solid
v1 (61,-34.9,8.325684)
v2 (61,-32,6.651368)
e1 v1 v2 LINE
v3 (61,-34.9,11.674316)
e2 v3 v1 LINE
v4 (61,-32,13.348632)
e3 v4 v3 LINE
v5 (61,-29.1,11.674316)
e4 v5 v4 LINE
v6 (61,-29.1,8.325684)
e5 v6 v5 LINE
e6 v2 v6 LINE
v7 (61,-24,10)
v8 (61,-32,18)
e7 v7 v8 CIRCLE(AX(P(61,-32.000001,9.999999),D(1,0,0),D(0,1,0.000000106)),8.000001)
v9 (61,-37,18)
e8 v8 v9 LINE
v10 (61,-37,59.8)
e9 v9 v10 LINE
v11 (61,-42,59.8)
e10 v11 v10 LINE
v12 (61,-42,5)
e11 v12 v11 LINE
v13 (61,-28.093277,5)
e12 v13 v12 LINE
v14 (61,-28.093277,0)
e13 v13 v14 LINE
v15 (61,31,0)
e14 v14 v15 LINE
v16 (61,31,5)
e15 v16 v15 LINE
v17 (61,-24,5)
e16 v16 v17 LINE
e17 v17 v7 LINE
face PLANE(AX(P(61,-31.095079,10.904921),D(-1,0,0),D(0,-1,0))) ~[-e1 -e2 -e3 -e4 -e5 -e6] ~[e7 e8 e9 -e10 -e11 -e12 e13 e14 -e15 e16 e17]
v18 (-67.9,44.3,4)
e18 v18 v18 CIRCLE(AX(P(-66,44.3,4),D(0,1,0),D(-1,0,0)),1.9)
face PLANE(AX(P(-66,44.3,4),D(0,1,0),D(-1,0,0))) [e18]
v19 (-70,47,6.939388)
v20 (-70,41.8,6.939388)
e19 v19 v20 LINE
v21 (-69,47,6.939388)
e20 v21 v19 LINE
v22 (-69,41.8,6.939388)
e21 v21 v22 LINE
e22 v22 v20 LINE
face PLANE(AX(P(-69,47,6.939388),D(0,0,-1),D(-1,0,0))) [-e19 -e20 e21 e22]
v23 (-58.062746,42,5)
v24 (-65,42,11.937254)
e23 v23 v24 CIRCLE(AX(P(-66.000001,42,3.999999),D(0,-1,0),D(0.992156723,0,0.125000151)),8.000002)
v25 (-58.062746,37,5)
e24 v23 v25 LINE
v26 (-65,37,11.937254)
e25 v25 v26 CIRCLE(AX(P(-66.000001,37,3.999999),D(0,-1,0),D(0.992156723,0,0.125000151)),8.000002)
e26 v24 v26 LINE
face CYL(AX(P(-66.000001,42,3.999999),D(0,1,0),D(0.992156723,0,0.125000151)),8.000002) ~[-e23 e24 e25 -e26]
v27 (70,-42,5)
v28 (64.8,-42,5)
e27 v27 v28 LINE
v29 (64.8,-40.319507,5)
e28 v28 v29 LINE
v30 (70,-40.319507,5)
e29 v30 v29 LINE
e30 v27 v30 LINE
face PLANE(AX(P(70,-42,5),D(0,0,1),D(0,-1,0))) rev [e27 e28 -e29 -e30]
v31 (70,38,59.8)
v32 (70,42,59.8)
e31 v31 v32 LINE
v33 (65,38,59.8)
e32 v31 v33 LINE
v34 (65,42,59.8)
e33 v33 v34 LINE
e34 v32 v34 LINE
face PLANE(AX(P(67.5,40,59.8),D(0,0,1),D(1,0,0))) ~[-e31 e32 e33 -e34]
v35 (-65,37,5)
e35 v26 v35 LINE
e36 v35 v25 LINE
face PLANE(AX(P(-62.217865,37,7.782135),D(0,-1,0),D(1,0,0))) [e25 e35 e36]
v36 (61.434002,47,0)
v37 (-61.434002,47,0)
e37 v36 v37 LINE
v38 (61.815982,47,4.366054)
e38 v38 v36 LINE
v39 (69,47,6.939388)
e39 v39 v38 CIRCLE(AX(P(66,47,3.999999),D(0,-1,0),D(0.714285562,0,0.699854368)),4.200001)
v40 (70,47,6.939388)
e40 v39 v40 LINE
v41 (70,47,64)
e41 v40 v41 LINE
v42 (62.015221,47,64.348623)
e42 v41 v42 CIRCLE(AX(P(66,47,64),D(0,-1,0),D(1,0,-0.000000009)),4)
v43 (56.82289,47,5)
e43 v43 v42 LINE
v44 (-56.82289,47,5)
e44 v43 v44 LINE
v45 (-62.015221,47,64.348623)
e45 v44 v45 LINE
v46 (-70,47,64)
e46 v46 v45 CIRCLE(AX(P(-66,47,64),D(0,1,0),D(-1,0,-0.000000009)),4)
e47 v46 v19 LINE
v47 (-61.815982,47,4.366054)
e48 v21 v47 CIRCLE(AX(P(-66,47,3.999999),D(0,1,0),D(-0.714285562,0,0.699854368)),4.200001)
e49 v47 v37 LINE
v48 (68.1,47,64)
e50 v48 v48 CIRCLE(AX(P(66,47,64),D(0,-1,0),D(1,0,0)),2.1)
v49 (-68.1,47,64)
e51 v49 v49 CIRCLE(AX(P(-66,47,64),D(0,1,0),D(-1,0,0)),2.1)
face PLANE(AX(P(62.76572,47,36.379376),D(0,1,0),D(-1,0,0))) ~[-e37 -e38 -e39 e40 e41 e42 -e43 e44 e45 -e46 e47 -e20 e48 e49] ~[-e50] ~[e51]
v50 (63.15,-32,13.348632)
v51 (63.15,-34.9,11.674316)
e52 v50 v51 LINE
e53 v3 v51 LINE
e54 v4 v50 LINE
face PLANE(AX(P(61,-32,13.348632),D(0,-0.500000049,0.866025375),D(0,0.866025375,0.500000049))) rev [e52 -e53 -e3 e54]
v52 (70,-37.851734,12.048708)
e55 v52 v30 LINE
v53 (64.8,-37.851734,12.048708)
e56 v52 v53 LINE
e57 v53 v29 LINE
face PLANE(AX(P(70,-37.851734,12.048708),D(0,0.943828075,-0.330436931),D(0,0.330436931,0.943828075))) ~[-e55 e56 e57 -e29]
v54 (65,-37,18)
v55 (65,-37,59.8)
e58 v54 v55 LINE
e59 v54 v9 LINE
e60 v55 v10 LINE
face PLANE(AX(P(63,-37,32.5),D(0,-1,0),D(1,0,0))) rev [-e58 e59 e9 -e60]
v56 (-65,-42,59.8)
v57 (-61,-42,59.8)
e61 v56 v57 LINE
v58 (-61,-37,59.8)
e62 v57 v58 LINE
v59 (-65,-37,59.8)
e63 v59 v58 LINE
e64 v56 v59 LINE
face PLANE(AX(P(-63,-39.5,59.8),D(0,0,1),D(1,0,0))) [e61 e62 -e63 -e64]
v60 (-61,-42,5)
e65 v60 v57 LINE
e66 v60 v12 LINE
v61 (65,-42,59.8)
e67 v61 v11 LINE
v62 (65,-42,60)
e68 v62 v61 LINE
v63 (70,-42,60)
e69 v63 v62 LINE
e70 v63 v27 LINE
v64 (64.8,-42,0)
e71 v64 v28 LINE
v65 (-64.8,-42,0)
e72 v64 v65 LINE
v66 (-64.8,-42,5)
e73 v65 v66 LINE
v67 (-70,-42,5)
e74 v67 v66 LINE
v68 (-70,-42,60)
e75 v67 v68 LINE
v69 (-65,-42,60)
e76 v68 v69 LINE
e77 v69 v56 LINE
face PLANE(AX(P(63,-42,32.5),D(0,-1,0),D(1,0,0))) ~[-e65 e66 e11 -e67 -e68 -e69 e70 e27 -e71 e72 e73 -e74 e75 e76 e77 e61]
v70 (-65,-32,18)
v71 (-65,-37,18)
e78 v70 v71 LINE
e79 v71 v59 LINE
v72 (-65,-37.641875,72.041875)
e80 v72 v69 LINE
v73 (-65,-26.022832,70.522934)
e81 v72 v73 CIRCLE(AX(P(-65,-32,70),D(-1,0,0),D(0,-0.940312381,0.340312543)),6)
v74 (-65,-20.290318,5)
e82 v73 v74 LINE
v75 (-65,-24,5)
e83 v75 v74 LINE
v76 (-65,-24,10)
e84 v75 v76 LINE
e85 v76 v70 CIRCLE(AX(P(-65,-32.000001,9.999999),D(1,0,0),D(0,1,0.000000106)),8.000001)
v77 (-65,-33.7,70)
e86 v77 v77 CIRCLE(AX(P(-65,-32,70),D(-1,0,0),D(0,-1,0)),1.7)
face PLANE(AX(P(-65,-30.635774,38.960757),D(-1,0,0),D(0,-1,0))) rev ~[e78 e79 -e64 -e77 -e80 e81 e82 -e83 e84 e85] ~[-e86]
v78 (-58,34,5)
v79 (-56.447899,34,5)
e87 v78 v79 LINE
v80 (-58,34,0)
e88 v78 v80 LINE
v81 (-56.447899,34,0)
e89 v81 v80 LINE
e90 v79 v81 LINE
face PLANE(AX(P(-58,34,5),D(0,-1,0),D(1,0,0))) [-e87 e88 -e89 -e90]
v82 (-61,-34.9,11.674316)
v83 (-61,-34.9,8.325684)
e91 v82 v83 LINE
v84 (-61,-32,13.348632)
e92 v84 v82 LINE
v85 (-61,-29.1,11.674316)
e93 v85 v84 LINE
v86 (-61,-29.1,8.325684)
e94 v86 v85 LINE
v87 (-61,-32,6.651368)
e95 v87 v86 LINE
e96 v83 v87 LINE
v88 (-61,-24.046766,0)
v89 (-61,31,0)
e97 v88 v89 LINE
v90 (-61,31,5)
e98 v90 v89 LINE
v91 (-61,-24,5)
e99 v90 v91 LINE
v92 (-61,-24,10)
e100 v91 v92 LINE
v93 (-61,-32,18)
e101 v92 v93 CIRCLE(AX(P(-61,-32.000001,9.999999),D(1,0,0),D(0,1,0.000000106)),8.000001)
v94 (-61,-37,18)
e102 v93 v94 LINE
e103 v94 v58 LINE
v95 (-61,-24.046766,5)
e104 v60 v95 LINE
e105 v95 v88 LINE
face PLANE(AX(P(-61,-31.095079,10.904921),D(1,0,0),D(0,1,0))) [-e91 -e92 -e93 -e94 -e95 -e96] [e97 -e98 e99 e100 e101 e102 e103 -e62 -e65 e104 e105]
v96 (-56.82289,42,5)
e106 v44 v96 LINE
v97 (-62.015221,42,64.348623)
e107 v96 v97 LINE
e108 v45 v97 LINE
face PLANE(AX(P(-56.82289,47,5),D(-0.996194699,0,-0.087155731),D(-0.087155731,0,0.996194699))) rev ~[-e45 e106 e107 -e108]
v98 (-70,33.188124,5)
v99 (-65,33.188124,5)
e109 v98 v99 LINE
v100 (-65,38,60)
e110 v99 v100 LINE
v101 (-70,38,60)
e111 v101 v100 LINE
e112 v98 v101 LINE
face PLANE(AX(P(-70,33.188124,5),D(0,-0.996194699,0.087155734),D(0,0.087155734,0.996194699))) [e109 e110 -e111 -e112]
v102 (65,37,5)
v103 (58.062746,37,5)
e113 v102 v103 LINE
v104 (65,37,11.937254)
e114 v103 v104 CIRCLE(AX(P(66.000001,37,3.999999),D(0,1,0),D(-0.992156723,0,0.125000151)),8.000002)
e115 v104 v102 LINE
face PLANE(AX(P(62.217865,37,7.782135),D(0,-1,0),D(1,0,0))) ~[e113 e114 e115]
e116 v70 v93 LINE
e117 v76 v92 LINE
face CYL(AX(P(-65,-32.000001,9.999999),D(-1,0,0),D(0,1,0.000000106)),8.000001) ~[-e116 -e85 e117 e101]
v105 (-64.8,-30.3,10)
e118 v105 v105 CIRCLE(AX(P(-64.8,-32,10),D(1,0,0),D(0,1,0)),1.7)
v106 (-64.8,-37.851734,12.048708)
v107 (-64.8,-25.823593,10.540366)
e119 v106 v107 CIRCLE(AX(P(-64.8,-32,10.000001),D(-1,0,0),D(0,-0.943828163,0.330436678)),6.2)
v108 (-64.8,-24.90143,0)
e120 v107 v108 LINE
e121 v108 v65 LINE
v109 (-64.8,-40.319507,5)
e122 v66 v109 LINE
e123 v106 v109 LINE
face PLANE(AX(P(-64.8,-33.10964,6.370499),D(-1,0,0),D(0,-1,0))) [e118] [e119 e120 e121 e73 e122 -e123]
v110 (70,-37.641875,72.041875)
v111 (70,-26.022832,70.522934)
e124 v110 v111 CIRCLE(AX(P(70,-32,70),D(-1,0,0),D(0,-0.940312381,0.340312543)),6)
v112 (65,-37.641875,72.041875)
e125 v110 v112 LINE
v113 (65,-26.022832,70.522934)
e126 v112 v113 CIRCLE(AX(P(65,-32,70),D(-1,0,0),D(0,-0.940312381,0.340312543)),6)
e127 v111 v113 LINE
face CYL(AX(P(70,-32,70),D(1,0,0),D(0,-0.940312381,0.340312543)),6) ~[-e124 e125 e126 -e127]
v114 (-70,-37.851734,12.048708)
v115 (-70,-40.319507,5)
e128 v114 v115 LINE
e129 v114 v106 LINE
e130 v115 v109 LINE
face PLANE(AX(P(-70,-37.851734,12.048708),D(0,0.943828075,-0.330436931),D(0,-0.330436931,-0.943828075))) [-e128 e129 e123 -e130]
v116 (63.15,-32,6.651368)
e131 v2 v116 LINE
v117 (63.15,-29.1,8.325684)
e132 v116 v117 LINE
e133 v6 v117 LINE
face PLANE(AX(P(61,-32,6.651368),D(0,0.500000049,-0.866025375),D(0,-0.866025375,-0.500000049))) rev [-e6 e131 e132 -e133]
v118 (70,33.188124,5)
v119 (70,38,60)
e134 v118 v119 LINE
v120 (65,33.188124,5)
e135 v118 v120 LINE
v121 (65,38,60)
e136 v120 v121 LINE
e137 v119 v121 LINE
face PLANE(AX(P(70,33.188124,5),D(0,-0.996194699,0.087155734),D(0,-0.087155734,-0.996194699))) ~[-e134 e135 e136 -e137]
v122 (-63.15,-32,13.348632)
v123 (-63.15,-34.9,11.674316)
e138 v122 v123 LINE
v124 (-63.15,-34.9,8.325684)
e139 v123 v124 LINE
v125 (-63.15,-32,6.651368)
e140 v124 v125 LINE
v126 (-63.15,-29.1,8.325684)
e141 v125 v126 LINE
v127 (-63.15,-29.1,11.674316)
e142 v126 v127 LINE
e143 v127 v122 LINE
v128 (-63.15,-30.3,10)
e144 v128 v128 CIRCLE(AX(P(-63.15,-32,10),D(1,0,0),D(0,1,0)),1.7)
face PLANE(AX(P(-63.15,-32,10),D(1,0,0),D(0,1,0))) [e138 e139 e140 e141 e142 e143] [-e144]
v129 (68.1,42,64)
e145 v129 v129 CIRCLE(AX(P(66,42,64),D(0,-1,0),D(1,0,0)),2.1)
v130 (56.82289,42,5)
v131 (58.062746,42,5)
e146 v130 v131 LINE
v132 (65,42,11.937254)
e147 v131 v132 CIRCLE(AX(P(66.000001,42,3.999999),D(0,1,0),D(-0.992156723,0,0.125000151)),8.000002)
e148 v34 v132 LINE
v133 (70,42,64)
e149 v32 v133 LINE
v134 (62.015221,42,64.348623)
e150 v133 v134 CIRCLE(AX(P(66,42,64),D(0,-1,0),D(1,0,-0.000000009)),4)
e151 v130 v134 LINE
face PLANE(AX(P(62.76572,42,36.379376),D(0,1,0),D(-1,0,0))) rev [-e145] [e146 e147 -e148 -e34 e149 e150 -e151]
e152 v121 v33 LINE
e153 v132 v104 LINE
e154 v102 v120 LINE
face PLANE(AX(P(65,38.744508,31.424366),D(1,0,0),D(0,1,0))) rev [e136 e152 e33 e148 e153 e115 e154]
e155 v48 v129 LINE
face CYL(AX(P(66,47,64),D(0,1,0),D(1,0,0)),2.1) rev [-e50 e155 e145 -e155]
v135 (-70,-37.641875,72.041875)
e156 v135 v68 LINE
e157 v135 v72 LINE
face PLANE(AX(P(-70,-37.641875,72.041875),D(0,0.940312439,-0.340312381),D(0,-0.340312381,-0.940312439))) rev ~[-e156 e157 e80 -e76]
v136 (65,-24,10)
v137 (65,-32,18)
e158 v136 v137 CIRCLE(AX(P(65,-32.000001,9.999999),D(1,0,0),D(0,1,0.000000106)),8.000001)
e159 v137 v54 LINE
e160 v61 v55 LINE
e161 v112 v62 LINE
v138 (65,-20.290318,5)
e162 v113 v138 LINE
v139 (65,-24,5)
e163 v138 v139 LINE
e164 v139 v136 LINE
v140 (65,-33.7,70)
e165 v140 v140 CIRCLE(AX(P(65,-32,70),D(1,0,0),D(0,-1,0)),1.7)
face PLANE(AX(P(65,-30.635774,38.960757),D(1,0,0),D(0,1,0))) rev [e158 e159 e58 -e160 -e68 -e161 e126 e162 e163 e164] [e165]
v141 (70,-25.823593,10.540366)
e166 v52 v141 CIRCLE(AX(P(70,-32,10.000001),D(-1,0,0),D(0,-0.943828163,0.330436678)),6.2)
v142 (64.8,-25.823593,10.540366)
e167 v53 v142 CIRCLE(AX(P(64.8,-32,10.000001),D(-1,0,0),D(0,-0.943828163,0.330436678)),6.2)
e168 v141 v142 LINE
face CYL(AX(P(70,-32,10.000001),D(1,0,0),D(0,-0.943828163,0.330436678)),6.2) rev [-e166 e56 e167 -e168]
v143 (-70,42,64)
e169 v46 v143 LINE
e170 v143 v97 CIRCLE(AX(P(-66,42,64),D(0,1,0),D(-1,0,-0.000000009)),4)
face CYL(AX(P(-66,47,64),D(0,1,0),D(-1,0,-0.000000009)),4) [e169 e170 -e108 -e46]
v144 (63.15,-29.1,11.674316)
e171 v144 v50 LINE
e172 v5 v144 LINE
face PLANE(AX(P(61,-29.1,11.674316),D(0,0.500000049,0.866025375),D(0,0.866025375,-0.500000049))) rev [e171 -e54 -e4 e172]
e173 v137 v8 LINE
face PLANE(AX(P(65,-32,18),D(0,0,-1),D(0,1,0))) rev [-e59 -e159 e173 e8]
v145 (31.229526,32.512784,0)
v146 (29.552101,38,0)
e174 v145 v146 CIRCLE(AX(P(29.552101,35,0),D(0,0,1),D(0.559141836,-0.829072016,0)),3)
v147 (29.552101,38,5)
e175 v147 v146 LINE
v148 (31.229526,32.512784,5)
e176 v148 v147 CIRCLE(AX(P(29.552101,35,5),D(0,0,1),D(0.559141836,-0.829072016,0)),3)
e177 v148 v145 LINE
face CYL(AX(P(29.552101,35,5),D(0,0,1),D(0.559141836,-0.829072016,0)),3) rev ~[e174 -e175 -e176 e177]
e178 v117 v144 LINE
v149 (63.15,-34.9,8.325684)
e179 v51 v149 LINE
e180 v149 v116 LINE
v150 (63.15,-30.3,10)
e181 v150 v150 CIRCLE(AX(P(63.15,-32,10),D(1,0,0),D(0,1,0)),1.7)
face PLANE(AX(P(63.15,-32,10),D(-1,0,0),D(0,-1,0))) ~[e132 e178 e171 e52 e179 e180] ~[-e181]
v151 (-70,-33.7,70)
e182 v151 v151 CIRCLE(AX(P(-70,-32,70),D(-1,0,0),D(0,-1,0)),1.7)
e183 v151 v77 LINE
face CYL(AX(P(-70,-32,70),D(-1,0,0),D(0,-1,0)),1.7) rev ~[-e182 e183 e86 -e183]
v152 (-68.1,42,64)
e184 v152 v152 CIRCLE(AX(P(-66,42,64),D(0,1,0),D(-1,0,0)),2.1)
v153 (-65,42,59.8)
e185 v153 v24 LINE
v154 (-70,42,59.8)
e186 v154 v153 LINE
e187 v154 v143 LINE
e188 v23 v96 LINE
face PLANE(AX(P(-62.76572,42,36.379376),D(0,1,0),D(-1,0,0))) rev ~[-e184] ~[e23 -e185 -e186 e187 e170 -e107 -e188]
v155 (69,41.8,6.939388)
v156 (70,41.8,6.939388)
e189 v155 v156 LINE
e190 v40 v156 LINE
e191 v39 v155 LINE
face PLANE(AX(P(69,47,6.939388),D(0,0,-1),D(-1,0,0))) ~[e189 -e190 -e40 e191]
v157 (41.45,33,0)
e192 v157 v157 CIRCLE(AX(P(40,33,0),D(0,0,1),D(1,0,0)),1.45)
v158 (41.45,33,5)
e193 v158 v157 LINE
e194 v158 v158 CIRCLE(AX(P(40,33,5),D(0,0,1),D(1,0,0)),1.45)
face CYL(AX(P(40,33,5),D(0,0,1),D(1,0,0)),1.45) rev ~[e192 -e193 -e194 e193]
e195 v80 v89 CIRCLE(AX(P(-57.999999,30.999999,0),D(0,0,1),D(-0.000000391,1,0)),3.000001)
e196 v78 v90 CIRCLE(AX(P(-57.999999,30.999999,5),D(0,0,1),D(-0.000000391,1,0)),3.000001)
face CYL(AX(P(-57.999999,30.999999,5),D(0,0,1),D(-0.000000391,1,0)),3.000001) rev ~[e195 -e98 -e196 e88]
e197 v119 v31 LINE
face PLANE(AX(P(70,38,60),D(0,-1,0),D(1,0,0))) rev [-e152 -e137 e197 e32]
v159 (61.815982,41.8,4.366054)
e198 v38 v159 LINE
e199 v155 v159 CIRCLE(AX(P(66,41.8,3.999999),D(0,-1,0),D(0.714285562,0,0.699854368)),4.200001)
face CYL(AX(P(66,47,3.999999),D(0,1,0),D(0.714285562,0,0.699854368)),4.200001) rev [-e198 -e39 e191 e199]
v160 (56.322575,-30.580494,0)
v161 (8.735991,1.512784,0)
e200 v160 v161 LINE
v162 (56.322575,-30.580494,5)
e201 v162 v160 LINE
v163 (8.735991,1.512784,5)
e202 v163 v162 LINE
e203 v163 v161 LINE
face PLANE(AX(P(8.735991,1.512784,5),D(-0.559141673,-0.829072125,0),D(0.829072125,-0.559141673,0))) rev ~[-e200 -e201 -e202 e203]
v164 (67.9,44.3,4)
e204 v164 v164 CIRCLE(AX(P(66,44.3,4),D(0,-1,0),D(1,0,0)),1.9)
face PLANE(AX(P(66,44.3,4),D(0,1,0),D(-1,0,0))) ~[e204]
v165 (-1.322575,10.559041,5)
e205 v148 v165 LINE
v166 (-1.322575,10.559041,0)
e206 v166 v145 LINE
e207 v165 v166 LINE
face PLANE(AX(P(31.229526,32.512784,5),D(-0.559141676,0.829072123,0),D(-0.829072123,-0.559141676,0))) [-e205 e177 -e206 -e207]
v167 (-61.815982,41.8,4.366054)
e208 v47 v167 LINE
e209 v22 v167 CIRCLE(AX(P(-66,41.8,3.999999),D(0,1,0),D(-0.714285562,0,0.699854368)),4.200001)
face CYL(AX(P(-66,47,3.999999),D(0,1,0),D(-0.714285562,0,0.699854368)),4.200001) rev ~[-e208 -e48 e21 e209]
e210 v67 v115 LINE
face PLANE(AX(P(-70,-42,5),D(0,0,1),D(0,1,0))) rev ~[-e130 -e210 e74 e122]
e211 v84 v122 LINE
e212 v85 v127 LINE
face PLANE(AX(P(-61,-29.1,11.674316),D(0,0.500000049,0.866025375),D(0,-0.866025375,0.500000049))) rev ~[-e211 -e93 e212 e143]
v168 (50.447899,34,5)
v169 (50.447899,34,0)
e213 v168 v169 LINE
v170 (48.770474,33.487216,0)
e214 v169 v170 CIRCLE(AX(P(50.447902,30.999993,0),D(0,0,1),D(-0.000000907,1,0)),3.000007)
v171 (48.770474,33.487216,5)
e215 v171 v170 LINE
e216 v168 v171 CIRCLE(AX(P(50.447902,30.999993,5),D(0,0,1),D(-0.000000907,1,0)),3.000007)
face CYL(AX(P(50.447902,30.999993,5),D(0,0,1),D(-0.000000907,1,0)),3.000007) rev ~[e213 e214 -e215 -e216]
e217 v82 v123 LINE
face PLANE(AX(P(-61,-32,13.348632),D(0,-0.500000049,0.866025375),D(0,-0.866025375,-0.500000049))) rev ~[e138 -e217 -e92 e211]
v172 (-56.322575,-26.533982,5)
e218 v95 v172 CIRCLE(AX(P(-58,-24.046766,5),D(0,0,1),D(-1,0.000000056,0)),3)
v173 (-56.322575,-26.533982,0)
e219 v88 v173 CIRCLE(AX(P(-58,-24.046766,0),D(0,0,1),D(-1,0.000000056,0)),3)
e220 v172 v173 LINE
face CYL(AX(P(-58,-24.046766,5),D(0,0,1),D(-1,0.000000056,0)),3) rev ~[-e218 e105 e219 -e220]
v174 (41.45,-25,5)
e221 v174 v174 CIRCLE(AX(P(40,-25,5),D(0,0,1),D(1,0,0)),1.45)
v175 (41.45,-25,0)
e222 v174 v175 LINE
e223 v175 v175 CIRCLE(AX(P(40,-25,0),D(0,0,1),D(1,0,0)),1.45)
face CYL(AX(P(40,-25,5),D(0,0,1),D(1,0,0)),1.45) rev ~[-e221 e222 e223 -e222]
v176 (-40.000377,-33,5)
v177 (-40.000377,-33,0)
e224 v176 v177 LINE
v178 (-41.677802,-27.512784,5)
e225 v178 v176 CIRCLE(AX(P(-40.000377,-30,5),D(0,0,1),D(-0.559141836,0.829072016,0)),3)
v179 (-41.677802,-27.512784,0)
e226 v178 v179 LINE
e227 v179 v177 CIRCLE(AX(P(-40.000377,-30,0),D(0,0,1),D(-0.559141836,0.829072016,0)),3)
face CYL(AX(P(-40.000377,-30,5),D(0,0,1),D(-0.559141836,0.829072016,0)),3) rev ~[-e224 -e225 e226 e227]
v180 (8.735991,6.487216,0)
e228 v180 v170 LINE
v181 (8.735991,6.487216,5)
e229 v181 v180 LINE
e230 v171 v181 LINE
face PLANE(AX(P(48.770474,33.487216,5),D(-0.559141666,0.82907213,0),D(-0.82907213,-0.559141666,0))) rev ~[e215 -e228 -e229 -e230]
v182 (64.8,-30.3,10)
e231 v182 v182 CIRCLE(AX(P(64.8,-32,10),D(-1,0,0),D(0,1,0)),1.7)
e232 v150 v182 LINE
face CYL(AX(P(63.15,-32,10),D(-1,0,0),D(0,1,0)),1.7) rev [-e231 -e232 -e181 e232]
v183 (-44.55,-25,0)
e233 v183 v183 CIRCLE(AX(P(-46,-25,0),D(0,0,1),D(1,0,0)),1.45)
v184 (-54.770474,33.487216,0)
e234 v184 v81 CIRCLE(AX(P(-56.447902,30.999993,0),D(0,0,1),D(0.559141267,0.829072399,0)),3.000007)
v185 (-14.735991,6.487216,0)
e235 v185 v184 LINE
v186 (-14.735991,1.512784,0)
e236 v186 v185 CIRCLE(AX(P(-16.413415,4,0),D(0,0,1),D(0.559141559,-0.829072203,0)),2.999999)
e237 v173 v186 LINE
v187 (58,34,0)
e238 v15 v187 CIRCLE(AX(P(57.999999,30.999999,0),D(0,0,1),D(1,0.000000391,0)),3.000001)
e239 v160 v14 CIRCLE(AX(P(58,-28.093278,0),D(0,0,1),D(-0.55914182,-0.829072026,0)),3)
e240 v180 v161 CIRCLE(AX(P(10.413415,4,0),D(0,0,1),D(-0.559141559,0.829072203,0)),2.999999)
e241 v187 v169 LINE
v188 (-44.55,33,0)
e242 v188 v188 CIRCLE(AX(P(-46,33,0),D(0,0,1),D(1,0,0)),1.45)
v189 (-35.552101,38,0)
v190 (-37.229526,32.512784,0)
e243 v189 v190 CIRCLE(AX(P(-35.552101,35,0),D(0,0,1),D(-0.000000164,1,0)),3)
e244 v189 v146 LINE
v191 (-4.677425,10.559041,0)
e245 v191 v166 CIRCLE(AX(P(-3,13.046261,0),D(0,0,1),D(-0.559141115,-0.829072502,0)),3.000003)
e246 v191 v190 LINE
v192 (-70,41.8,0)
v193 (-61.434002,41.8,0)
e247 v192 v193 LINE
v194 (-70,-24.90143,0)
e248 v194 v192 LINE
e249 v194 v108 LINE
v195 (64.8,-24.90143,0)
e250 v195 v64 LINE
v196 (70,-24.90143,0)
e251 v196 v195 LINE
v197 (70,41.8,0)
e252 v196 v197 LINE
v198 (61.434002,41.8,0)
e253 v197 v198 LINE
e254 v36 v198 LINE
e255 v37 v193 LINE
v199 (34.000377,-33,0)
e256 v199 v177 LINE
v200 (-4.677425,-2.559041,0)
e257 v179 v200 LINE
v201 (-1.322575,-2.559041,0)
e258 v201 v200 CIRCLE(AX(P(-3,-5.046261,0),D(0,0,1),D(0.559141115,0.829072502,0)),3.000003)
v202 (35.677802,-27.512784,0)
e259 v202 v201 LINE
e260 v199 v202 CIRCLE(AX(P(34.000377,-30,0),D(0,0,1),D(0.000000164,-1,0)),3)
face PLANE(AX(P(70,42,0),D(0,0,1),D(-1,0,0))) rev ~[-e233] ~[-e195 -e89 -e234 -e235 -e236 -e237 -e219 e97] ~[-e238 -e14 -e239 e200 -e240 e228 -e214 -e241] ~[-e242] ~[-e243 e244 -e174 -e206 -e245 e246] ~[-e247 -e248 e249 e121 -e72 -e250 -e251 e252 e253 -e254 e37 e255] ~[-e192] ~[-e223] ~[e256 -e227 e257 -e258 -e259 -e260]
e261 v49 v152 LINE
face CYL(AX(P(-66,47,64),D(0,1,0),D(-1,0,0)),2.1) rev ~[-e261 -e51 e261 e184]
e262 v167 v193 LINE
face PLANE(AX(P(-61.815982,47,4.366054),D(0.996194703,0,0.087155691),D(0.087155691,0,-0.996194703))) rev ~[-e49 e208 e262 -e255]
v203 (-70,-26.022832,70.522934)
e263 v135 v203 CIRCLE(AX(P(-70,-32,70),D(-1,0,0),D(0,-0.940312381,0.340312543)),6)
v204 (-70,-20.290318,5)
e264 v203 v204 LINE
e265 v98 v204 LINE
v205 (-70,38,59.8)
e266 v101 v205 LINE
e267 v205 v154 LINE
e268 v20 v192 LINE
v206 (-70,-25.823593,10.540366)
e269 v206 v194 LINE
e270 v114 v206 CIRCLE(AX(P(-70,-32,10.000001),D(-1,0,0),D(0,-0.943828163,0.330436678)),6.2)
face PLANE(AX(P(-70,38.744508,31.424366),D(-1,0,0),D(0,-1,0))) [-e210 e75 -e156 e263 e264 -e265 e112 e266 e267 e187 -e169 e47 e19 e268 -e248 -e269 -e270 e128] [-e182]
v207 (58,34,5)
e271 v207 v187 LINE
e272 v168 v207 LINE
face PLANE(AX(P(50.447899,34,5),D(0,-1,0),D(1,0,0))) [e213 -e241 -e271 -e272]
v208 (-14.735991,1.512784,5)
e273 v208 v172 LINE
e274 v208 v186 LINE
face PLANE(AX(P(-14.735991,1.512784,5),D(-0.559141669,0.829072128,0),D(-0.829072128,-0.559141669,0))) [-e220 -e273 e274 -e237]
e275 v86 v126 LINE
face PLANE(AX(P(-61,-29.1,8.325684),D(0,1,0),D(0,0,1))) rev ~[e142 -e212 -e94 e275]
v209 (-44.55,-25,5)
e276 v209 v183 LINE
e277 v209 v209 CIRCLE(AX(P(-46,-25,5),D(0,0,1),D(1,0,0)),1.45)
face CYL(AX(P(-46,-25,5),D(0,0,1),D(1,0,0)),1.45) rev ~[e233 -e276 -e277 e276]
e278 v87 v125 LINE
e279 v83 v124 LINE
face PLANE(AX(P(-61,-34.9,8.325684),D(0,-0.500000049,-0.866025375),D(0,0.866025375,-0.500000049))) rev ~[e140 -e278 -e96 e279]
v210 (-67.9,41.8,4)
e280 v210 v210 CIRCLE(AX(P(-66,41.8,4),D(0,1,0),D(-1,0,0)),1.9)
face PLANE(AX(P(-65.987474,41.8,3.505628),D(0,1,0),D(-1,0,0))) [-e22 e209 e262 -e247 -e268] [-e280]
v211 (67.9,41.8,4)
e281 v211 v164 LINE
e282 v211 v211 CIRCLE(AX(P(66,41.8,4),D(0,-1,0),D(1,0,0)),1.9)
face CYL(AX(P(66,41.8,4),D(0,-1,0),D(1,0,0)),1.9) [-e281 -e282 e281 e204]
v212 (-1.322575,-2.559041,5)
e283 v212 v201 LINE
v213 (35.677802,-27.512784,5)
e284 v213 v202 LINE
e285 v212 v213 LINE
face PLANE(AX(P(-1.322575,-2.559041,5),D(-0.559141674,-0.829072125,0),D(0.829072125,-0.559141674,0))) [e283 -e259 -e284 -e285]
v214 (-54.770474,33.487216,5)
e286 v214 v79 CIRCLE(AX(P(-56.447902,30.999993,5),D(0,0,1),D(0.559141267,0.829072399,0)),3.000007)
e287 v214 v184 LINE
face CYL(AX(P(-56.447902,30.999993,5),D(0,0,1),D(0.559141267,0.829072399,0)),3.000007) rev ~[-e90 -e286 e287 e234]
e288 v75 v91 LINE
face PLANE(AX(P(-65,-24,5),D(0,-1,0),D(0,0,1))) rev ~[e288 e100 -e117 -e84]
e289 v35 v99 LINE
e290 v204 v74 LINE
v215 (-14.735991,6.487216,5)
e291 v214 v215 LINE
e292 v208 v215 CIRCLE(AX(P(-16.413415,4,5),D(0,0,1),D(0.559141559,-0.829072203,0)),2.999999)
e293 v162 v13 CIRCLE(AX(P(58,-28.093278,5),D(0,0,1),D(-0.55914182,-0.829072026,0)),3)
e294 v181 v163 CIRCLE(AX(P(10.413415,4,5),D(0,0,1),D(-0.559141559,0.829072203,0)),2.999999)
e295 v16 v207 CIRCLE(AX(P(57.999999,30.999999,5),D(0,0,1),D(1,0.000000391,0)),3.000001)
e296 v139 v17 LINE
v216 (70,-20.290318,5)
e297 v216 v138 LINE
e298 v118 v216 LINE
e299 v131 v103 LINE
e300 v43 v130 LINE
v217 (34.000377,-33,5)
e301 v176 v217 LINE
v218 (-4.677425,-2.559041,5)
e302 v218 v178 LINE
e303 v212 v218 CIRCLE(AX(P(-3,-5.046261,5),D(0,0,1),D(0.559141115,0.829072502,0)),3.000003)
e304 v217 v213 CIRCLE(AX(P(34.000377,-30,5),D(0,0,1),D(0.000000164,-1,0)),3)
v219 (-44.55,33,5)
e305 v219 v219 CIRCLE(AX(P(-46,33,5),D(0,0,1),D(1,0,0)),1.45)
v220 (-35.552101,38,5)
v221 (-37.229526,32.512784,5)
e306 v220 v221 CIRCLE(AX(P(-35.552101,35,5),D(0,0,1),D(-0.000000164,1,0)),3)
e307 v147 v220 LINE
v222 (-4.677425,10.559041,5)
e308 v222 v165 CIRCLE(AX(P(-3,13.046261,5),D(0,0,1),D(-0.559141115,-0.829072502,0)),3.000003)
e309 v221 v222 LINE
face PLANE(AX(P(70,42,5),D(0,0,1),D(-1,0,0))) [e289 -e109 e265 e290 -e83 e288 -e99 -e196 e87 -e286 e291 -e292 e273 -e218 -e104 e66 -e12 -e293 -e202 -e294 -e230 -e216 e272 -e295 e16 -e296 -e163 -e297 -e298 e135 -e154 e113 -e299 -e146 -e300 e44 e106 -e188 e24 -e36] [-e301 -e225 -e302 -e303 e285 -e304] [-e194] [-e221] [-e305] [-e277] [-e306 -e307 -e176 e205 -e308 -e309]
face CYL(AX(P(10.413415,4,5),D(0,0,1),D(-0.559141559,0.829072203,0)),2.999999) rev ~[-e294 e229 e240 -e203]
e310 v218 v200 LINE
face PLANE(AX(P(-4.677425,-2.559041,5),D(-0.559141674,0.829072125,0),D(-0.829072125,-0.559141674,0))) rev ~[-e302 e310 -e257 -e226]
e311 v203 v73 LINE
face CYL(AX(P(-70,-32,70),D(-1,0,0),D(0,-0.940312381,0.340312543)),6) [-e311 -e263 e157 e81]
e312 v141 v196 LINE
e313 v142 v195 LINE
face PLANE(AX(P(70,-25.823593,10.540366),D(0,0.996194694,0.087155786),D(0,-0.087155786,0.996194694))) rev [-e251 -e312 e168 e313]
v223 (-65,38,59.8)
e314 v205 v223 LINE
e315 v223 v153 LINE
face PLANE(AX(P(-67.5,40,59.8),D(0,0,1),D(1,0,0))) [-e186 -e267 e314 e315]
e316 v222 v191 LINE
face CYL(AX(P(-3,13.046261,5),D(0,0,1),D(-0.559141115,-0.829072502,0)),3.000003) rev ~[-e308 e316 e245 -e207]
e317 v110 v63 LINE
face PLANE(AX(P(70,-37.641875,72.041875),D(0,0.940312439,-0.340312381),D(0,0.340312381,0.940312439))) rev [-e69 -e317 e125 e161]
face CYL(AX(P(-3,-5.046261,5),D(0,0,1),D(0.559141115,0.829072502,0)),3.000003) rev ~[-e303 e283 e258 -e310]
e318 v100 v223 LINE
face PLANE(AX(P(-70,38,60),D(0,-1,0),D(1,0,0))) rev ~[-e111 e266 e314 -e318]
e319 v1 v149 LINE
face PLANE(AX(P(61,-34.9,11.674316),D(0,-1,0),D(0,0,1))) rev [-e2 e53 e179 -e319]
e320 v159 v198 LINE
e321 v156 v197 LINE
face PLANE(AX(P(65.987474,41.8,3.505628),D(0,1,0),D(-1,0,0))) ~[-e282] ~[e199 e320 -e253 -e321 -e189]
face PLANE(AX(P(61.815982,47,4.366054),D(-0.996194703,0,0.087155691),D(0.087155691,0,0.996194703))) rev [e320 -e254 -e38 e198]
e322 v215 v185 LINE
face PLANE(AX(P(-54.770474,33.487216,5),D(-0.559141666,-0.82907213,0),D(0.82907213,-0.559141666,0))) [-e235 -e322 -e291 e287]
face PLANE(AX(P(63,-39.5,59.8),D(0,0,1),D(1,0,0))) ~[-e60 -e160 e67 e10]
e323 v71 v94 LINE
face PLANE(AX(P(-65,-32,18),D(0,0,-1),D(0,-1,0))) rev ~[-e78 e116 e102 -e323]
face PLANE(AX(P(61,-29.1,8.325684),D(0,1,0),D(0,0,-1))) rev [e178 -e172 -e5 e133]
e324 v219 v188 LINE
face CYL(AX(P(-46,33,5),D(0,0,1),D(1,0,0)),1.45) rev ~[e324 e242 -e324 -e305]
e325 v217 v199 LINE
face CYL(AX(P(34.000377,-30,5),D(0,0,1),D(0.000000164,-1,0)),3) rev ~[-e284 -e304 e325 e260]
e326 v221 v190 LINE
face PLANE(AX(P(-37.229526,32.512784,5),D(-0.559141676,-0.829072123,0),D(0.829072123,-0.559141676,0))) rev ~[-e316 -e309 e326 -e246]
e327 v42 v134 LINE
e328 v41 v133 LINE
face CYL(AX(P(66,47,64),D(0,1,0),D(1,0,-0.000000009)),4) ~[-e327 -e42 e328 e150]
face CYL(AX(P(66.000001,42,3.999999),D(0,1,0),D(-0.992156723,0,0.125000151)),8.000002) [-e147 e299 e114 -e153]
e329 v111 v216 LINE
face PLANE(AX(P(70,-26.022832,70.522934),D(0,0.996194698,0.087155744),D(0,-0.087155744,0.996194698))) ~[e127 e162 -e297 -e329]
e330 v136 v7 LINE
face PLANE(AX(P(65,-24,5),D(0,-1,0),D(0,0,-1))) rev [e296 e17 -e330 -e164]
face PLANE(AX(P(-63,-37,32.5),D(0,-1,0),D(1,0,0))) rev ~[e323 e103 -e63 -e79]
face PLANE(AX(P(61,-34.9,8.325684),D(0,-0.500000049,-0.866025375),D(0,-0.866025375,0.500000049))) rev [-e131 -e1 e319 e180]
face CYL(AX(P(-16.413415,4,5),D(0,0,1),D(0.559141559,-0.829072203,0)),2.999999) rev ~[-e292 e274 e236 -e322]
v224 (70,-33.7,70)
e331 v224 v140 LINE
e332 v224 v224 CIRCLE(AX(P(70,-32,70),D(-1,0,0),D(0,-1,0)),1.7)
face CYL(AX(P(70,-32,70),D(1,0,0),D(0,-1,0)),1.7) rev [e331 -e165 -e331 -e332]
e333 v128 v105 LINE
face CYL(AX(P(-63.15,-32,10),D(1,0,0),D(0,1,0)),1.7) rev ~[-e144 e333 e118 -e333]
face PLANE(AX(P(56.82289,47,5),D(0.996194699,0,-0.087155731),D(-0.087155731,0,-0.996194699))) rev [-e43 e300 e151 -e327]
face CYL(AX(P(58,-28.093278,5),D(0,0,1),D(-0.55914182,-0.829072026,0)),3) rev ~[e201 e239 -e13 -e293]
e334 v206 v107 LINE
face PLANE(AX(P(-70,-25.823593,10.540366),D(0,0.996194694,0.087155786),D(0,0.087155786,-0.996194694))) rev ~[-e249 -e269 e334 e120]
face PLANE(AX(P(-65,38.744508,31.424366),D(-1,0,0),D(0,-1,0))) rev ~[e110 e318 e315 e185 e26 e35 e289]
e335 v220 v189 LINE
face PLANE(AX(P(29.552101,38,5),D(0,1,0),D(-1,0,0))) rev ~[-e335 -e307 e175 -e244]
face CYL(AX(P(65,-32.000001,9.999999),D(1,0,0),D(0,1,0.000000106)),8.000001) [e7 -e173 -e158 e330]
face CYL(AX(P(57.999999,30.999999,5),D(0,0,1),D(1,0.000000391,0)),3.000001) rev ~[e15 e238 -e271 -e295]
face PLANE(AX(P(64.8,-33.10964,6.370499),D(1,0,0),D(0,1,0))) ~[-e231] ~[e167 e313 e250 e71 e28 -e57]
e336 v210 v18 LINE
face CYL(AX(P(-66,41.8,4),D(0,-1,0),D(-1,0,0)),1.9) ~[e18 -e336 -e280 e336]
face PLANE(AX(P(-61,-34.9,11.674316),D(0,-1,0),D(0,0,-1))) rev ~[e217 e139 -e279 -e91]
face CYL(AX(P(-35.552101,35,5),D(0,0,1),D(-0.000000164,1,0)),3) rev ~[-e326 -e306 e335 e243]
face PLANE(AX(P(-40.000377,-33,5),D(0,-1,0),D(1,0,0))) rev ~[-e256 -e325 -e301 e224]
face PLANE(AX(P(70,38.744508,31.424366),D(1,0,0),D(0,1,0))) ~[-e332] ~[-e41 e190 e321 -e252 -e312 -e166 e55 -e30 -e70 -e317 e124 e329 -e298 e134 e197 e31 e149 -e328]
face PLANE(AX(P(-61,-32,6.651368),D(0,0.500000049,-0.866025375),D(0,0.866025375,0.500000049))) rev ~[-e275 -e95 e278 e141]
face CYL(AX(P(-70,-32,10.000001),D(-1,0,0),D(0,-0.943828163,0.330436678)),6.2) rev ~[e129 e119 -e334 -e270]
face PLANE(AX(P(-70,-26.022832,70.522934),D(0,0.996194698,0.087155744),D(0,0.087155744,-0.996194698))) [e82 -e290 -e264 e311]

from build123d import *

# Parameters (mm, degrees)
SKETCH_W        = 110
SKETCH_H        = 84
PAD_DEPTH       = 5
SKETCH001_R     = 1.45
HOLE_DEPTH      = 5.001
SKETCH002_W     = 84
SKETCH002_H     = 5
PAD001_DEPTH    = 10
POCKET_DEPTH    = 5.001
SKETCH005_W     = 84
SKETCH005_H     = 5
PAD002_DEPTH    = 5
SKETCH006_W     = 140
SKETCH006_H     = 5
PAD003_DEPTH    = 5
SKETCH007_W     = 5
SKETCH007_H     = 5
PAD004_DEPTH    = 55
PAD005_DEPTH    = 5
SKETCH010_W     = 4
SKETCH010_H     = 55
PAD006_DEPTH    = 5
PAD007_DEPTH    = 4
POCKET001_DEPTH = 5.2
SKETCH012_R     = 1.7
HOLE001_DEPTH   = 504.950312
POCKET002_DEPTH = 2.15
SKETCH014_R     = 1.7
HOLE002_DEPTH   = 371.800312
PAD008_DEPTH    = 5
SKETCH016_R     = 2.1
POCKET003_DEPTH = 5
PAD009_DEPTH    = 5
PAD010_DEPTH    = 5
POCKET004_DEPTH = 5.2
SKETCH020_R     = 1.9
PAD011_DEPTH    = 2.5
SKETCH021_W     = 5
SKETCH021_H     = 4
SKETCH021_W_2   = 4
SKETCH021_H_2   = 5
POCKET005_DEPTH = 0.2


with BuildPart() as part:
    # Sketch → Pad (new body)
    with BuildSketch(Plane.XY):
        Rectangle(SKETCH_W, SKETCH_H)
    extrude(amount=PAD_DEPTH)

    # Sketch001 (on Face6 of Pad) → Hole (cut, through all)
    with BuildSketch(Plane.XY.offset(5)):
        with Locations((-46, 33)):
            Circle(SKETCH001_R)
        with Locations((40, 33)):
            Circle(SKETCH001_R)
        with Locations((40, -25)):
            Circle(SKETCH001_R)
        with Locations((-46, -25)):
            Circle(SKETCH001_R)
    extrude(amount=-HOLE_DEPTH, mode=Mode.SUBTRACT)

    # Sketch002 (on Face2 of Hole) → Pad001 (join)
    with BuildSketch(Plane(origin=(-55, 0, 0), x_dir=(0, -1, 0), z_dir=(-1, 0, 0))):
        with Locations((0, 2.5)):
            Rectangle(SKETCH002_W, SKETCH002_H)
    pad001 = extrude(amount=PAD001_DEPTH)

    # Mirrored: Pad001 across YZ
    add(pad001.mirror(Plane.YZ))

    # Sketch004 → Pocket (cut, through all)
    with BuildSketch(Plane.XY.offset(5)):
        with BuildLine():
            Line((29.552101, 38), (-35.552101, 38))
            ThreePointArc((-35.552101, 38), (-38.421042, 35.877026), (-37.229526, 32.512784))
            Line((-37.229526, 32.512784), (-4.677425, 10.559041))
            ThreePointArc((-4.677425, 10.559041), (-3, 10.046258), (-1.322575, 10.559041))
            Line((31.229526, 32.512784), (-1.322575, 10.559041))
            ThreePointArc((31.229526, 32.512784), (32.421042, 35.877026), (29.552101, 38))
        make_face()
        with BuildLine():
            Line((-54.770474, 33.487216), (-14.735991, 6.487216))
            ThreePointArc((-14.735991, 1.512784), (-13.413416, 4), (-14.735991, 6.487216))
            Line((-14.735991, 1.512784), (-56.322575, -26.533982))
            ThreePointArc((-61, -24.046766), (-59.408497, -26.695565), (-56.322575, -26.533982))
            Line((-61, 31), (-61, -24.046766))
            ThreePointArc((-58, 34), (-60.12132, 33.12132), (-61, 31))
            Line((-58, 34), (-56.447899, 34))
            ThreePointArc((-54.770474, 33.487216), (-55.570873, 33.868941), (-56.447899, 34))
        make_face()
        with BuildLine():
            Line((48.770474, 33.487216), (8.735991, 6.487216))
            ThreePointArc((8.735991, 6.487216), (7.413416, 4), (8.735991, 1.512784))
            Line((8.735991, 1.512784), (56.322575, -30.580494))
            ThreePointArc((56.322575, -30.580494), (59.408497, -30.742077), (61, -28.093277))
            Line((61, 31), (61, -28.093277))
            ThreePointArc((61, 31), (60.12132, 33.12132), (58, 34))
            Line((50.447899, 34), (58, 34))
            ThreePointArc((50.447899, 34), (49.570873, 33.868941), (48.770474, 33.487216))
        make_face()
        with BuildLine():
            Line((-40.000377, -33), (34.000377, -33))
            ThreePointArc((34.000377, -33), (36.869318, -30.877026), (35.677802, -27.512784))
            Line((-1.322575, -2.559041), (35.677802, -27.512784))
            ThreePointArc((-1.322575, -2.559041), (-3, -2.046258), (-4.677425, -2.559041))
            Line((-4.677425, -2.559041), (-41.677802, -27.512784))
            ThreePointArc((-41.677802, -27.512784), (-42.869318, -30.877026), (-40.000377, -33))
        make_face()
    extrude(amount=-POCKET_DEPTH, mode=Mode.SUBTRACT)

    # Sketch005 (on Face8 of Pocket) → Pad002 (join)
    with BuildSketch(Plane(origin=(-65, 0, 0), x_dir=(0, -1, 0), z_dir=(-1, 0, 0))):
        with Locations((0, 2.5)):
            Rectangle(SKETCH005_W, SKETCH005_H)
    pad002 = extrude(amount=PAD002_DEPTH)

    # Mirrored002: Pad002 across YZ
    add(pad002.mirror(Plane.YZ))

    # Sketch006 (on Face16 of Mirrored002) → Pad003 (join)
    with BuildSketch(Plane(origin=(0, 42, 0), x_dir=(-1, 0, 0), z_dir=(0, 1, 0))):
        with Locations((0, 2.5)):
            Rectangle(SKETCH006_W, SKETCH006_H)
    extrude(amount=PAD003_DEPTH)

    # Sketch007 (on Face5 of Pad003) → Pad004 (join)
    with BuildSketch(Plane.XY.offset(5)):
        with Locations((-67.5, -39.5)):
            Rectangle(SKETCH007_W, SKETCH007_H)
        with Locations((-67.5, 44.5)):
            Rectangle(SKETCH007_W, SKETCH007_H)
    pad004 = extrude(amount=PAD004_DEPTH)

    # Mirrored003: Pad004 across Sketch007 V_Axis
    add(pad004.mirror(Plane(origin=(0, 0, 5), x_dir=(0, 0, 1), z_dir=(1, 0, 0))))

    # Sketch008 (on Face64 of Mirrored003) → Pad005 (join)
    with BuildSketch(Plane(origin=(-70, 0, 0), x_dir=(0, -1, 0), z_dir=(-1, 0, 0))):
        with BuildLine():
            ThreePointArc((37.641875, 72.041875), (31.222247, 75.949378), (26.022832, 70.522934))
            Line((26.022832, 70.522934), (20.290318, 5))
            Line((20.290318, 5), (37, 5))
            Line((37, 5), (37, 60))
            Line((42, 60), (37, 60))
            Line((37.641875, 72.041875), (42, 60))
        make_face()
    pad005 = extrude(amount=-PAD005_DEPTH)

    # Sketch010 (on Face47 of Pad005) → Pad006 (join)
    with BuildSketch(Plane.XZ.offset(42)):
        with Locations((-63, 32.5)):
            Rectangle(SKETCH010_W, SKETCH010_H)
    pad006 = extrude(amount=-PAD006_DEPTH)

    # Sketch011 (on Face46 of Pad006) → Pad007 (join)
    with BuildSketch(Plane.YZ.offset(-65)):
        with BuildLine():
            ThreePointArc((-24, 10), (-26.343146, 15.656854), (-32, 18))
            Line((-32, 18), (-37, 18))
            Line((-37, 18), (-37, 5))
            Line((-37, 5), (-24, 5))
            Line((-24, 5), (-24, 10))
        make_face()
    pad007 = extrude(amount=PAD007_DEPTH)

    # Sketch009 (on Face66 of Pad005) → Pocket001 (cut)
    with BuildSketch(Plane(origin=(-70, 0, 0), x_dir=(0, -1, 0), z_dir=(-1, 0, 0))):
        with BuildLine():
            ThreePointArc((37.851734, 12.048708), (31.228555, 16.151819), (25.823593, 10.540366))
            Line((25.823593, 10.540366), (24.90143, 0))
            Line((24.90143, 0), (42, 0))
            Line((42, 0), (42, 0.2))
            Line((42, 5), (42, 0.2))
            Line((42, 5), (40.319507, 5))
            Line((37.851734, 12.048708), (40.319507, 5))
        make_face()
    pocket001 = extrude(amount=-POCKET001_DEPTH, mode=Mode.SUBTRACT)

    # Sketch012 (on Face73 of Pocket001) → Hole001 (cut, through all)
    with BuildSketch(Plane(origin=(-70, 0, 0), x_dir=(0, -1, 0), z_dir=(-1, 0, 0))):
        with Locations((32, 70)):
            Circle(SKETCH012_R)
    hole001 = extrude(amount=-HOLE001_DEPTH, mode=Mode.SUBTRACT)

    # Sketch013 (on Face42 of Hole001) → Pocket002 (cut)
    with BuildSketch(Plane.YZ.offset(-61)):
        Polygon((-32, 13.348632), (-34.9, 11.674316), (-34.9, 8.325684), (-32, 6.651368), (-29.1, 8.325684), (-29.1, 11.674316), align=None)
    pocket002 = extrude(amount=-POCKET002_DEPTH, mode=Mode.SUBTRACT)

    # Sketch014 (on Face97 of Pocket002) → Hole002 (cut, through all)
    with BuildSketch(Plane.YZ.offset(-63.15)):
        with Locations((-32, 10)):
            Circle(SKETCH014_R)
    hole002 = extrude(amount=-HOLE002_DEPTH, mode=Mode.SUBTRACT)

    # Mirrored004: Pad005, Pad006, Pad007, Pocket001, Hole001, Pocket002, Hole002 across YZ
    add(pad005.mirror(Plane.YZ))
    add(pad006.mirror(Plane.YZ))
    add(pad007.mirror(Plane.YZ))
    add(pocket001.mirror(Plane.YZ), mode=Mode.SUBTRACT)
    add(hole001.mirror(Plane.YZ), mode=Mode.SUBTRACT)
    add(pocket002.mirror(Plane.YZ), mode=Mode.SUBTRACT)
    add(hole002.mirror(Plane.YZ), mode=Mode.SUBTRACT)

    # Sketch015 (on Face111 of Mirrored004) → Pad008 (join)
    with BuildSketch(Plane(origin=(0, 47, 0), x_dir=(-1, 0, 0), z_dir=(0, 1, 0))):
        with BuildLine():
            Line((56.82289, 5), (65, 5))
            Line((65, 60), (65, 5))
            Line((65, 60), (70, 60))
            Line((70, 60), (70, 64))
            ThreePointArc((70, 64), (66.174478, 67.996193), (62.015221, 64.348623))
            Line((56.82289, 5), (62.015221, 64.348623))
        make_face()
    pad008 = extrude(amount=-PAD008_DEPTH)

    # Sketch016 (on Face113 of Pad008) → Pocket003 (cut)
    with BuildSketch(Plane(origin=(0, 47, 0), x_dir=(-1, 0, 0), z_dir=(0, 1, 0))):
        with Locations((66, 64)):
            Circle(SKETCH016_R)
    pocket003 = extrude(amount=-POCKET003_DEPTH, mode=Mode.SUBTRACT)

    # Sketch017 (on Face111 of Pocket003) → Pad009 (join)
    with BuildSketch(Plane(origin=(-70, 0, 0), x_dir=(0, -1, 0), z_dir=(-1, 0, 0))):
        Polygon((-42, 60), (-42, 5), (-33.188124, 5), (-38, 60), align=None)
    pad009 = extrude(amount=-PAD009_DEPTH)

    # Sketch018 (on Face73 of Pad009) → Pad010 (join)
    with BuildSketch(Plane.XZ.offset(-42)):
        with BuildLine():
            ThreePointArc((-58.062746, 5), (-60.343146, 9.656854), (-65, 11.937254))
            Line((-65, 11.937254), (-65, 5))
            Line((-65, 5), (-58.062746, 5))
        make_face()
    pad010 = extrude(amount=PAD010_DEPTH)

    # Sketch019 (on Face72 of Pad010) → Pocket004 (cut)
    with BuildSketch(Plane(origin=(0, 47, 0), x_dir=(-1, 0, 0), z_dir=(0, 1, 0))):
        with BuildLine():
            ThreePointArc((69, 6.939388), (64.583672, 7.953987), (61.815982, 4.366054))
            Line((61.815982, 4.366054), (61.434002, 0))
            Line((70, 0), (61.434002, 0))
            Line((70, 6.939388), (70, 0))
            Line((69, 6.939388), (70, 6.939388))
        make_face()
    pocket004 = extrude(amount=-POCKET004_DEPTH, mode=Mode.SUBTRACT)

    # Sketch020 (on Face57 of Pocket004) → Pad011 (join)
    with BuildSketch(Plane(origin=(0, 41.8, 0), x_dir=(-1, 0, 0), z_dir=(0, 1, 0))):
        with Locations((66, 4)):
            Circle(SKETCH020_R)
    pad011 = extrude(amount=PAD011_DEPTH)

    # Mirrored005: Pad008, Pocket003, Pad009, Pad010, Pocket004, Pad011 across YZ
    add(pad008.mirror(Plane.YZ))
    add(pocket003.mirror(Plane.YZ), mode=Mode.SUBTRACT)
    add(pad009.mirror(Plane.YZ))
    add(pad010.mirror(Plane.YZ))
    add(pocket004.mirror(Plane.YZ), mode=Mode.SUBTRACT)
    add(pad011.mirror(Plane.YZ))

    # Sketch021 (on Face139 of Mirrored005) → Pocket005 (cut)
    with BuildSketch(Plane.XY.offset(60)):
        with Locations((-67.5, 40)):
            Rectangle(SKETCH021_W, SKETCH021_H)
        with Locations((-63, -39.5)):
            Rectangle(SKETCH021_W_2, SKETCH021_H_2)
    pocket005 = extrude(amount=-POCKET005_DEPTH, mode=Mode.SUBTRACT)

    # Mirrored006: Pocket005 across YZ
    add(pocket005.mirror(Plane.YZ), mode=Mode.SUBTRACT)


solid = part.part
